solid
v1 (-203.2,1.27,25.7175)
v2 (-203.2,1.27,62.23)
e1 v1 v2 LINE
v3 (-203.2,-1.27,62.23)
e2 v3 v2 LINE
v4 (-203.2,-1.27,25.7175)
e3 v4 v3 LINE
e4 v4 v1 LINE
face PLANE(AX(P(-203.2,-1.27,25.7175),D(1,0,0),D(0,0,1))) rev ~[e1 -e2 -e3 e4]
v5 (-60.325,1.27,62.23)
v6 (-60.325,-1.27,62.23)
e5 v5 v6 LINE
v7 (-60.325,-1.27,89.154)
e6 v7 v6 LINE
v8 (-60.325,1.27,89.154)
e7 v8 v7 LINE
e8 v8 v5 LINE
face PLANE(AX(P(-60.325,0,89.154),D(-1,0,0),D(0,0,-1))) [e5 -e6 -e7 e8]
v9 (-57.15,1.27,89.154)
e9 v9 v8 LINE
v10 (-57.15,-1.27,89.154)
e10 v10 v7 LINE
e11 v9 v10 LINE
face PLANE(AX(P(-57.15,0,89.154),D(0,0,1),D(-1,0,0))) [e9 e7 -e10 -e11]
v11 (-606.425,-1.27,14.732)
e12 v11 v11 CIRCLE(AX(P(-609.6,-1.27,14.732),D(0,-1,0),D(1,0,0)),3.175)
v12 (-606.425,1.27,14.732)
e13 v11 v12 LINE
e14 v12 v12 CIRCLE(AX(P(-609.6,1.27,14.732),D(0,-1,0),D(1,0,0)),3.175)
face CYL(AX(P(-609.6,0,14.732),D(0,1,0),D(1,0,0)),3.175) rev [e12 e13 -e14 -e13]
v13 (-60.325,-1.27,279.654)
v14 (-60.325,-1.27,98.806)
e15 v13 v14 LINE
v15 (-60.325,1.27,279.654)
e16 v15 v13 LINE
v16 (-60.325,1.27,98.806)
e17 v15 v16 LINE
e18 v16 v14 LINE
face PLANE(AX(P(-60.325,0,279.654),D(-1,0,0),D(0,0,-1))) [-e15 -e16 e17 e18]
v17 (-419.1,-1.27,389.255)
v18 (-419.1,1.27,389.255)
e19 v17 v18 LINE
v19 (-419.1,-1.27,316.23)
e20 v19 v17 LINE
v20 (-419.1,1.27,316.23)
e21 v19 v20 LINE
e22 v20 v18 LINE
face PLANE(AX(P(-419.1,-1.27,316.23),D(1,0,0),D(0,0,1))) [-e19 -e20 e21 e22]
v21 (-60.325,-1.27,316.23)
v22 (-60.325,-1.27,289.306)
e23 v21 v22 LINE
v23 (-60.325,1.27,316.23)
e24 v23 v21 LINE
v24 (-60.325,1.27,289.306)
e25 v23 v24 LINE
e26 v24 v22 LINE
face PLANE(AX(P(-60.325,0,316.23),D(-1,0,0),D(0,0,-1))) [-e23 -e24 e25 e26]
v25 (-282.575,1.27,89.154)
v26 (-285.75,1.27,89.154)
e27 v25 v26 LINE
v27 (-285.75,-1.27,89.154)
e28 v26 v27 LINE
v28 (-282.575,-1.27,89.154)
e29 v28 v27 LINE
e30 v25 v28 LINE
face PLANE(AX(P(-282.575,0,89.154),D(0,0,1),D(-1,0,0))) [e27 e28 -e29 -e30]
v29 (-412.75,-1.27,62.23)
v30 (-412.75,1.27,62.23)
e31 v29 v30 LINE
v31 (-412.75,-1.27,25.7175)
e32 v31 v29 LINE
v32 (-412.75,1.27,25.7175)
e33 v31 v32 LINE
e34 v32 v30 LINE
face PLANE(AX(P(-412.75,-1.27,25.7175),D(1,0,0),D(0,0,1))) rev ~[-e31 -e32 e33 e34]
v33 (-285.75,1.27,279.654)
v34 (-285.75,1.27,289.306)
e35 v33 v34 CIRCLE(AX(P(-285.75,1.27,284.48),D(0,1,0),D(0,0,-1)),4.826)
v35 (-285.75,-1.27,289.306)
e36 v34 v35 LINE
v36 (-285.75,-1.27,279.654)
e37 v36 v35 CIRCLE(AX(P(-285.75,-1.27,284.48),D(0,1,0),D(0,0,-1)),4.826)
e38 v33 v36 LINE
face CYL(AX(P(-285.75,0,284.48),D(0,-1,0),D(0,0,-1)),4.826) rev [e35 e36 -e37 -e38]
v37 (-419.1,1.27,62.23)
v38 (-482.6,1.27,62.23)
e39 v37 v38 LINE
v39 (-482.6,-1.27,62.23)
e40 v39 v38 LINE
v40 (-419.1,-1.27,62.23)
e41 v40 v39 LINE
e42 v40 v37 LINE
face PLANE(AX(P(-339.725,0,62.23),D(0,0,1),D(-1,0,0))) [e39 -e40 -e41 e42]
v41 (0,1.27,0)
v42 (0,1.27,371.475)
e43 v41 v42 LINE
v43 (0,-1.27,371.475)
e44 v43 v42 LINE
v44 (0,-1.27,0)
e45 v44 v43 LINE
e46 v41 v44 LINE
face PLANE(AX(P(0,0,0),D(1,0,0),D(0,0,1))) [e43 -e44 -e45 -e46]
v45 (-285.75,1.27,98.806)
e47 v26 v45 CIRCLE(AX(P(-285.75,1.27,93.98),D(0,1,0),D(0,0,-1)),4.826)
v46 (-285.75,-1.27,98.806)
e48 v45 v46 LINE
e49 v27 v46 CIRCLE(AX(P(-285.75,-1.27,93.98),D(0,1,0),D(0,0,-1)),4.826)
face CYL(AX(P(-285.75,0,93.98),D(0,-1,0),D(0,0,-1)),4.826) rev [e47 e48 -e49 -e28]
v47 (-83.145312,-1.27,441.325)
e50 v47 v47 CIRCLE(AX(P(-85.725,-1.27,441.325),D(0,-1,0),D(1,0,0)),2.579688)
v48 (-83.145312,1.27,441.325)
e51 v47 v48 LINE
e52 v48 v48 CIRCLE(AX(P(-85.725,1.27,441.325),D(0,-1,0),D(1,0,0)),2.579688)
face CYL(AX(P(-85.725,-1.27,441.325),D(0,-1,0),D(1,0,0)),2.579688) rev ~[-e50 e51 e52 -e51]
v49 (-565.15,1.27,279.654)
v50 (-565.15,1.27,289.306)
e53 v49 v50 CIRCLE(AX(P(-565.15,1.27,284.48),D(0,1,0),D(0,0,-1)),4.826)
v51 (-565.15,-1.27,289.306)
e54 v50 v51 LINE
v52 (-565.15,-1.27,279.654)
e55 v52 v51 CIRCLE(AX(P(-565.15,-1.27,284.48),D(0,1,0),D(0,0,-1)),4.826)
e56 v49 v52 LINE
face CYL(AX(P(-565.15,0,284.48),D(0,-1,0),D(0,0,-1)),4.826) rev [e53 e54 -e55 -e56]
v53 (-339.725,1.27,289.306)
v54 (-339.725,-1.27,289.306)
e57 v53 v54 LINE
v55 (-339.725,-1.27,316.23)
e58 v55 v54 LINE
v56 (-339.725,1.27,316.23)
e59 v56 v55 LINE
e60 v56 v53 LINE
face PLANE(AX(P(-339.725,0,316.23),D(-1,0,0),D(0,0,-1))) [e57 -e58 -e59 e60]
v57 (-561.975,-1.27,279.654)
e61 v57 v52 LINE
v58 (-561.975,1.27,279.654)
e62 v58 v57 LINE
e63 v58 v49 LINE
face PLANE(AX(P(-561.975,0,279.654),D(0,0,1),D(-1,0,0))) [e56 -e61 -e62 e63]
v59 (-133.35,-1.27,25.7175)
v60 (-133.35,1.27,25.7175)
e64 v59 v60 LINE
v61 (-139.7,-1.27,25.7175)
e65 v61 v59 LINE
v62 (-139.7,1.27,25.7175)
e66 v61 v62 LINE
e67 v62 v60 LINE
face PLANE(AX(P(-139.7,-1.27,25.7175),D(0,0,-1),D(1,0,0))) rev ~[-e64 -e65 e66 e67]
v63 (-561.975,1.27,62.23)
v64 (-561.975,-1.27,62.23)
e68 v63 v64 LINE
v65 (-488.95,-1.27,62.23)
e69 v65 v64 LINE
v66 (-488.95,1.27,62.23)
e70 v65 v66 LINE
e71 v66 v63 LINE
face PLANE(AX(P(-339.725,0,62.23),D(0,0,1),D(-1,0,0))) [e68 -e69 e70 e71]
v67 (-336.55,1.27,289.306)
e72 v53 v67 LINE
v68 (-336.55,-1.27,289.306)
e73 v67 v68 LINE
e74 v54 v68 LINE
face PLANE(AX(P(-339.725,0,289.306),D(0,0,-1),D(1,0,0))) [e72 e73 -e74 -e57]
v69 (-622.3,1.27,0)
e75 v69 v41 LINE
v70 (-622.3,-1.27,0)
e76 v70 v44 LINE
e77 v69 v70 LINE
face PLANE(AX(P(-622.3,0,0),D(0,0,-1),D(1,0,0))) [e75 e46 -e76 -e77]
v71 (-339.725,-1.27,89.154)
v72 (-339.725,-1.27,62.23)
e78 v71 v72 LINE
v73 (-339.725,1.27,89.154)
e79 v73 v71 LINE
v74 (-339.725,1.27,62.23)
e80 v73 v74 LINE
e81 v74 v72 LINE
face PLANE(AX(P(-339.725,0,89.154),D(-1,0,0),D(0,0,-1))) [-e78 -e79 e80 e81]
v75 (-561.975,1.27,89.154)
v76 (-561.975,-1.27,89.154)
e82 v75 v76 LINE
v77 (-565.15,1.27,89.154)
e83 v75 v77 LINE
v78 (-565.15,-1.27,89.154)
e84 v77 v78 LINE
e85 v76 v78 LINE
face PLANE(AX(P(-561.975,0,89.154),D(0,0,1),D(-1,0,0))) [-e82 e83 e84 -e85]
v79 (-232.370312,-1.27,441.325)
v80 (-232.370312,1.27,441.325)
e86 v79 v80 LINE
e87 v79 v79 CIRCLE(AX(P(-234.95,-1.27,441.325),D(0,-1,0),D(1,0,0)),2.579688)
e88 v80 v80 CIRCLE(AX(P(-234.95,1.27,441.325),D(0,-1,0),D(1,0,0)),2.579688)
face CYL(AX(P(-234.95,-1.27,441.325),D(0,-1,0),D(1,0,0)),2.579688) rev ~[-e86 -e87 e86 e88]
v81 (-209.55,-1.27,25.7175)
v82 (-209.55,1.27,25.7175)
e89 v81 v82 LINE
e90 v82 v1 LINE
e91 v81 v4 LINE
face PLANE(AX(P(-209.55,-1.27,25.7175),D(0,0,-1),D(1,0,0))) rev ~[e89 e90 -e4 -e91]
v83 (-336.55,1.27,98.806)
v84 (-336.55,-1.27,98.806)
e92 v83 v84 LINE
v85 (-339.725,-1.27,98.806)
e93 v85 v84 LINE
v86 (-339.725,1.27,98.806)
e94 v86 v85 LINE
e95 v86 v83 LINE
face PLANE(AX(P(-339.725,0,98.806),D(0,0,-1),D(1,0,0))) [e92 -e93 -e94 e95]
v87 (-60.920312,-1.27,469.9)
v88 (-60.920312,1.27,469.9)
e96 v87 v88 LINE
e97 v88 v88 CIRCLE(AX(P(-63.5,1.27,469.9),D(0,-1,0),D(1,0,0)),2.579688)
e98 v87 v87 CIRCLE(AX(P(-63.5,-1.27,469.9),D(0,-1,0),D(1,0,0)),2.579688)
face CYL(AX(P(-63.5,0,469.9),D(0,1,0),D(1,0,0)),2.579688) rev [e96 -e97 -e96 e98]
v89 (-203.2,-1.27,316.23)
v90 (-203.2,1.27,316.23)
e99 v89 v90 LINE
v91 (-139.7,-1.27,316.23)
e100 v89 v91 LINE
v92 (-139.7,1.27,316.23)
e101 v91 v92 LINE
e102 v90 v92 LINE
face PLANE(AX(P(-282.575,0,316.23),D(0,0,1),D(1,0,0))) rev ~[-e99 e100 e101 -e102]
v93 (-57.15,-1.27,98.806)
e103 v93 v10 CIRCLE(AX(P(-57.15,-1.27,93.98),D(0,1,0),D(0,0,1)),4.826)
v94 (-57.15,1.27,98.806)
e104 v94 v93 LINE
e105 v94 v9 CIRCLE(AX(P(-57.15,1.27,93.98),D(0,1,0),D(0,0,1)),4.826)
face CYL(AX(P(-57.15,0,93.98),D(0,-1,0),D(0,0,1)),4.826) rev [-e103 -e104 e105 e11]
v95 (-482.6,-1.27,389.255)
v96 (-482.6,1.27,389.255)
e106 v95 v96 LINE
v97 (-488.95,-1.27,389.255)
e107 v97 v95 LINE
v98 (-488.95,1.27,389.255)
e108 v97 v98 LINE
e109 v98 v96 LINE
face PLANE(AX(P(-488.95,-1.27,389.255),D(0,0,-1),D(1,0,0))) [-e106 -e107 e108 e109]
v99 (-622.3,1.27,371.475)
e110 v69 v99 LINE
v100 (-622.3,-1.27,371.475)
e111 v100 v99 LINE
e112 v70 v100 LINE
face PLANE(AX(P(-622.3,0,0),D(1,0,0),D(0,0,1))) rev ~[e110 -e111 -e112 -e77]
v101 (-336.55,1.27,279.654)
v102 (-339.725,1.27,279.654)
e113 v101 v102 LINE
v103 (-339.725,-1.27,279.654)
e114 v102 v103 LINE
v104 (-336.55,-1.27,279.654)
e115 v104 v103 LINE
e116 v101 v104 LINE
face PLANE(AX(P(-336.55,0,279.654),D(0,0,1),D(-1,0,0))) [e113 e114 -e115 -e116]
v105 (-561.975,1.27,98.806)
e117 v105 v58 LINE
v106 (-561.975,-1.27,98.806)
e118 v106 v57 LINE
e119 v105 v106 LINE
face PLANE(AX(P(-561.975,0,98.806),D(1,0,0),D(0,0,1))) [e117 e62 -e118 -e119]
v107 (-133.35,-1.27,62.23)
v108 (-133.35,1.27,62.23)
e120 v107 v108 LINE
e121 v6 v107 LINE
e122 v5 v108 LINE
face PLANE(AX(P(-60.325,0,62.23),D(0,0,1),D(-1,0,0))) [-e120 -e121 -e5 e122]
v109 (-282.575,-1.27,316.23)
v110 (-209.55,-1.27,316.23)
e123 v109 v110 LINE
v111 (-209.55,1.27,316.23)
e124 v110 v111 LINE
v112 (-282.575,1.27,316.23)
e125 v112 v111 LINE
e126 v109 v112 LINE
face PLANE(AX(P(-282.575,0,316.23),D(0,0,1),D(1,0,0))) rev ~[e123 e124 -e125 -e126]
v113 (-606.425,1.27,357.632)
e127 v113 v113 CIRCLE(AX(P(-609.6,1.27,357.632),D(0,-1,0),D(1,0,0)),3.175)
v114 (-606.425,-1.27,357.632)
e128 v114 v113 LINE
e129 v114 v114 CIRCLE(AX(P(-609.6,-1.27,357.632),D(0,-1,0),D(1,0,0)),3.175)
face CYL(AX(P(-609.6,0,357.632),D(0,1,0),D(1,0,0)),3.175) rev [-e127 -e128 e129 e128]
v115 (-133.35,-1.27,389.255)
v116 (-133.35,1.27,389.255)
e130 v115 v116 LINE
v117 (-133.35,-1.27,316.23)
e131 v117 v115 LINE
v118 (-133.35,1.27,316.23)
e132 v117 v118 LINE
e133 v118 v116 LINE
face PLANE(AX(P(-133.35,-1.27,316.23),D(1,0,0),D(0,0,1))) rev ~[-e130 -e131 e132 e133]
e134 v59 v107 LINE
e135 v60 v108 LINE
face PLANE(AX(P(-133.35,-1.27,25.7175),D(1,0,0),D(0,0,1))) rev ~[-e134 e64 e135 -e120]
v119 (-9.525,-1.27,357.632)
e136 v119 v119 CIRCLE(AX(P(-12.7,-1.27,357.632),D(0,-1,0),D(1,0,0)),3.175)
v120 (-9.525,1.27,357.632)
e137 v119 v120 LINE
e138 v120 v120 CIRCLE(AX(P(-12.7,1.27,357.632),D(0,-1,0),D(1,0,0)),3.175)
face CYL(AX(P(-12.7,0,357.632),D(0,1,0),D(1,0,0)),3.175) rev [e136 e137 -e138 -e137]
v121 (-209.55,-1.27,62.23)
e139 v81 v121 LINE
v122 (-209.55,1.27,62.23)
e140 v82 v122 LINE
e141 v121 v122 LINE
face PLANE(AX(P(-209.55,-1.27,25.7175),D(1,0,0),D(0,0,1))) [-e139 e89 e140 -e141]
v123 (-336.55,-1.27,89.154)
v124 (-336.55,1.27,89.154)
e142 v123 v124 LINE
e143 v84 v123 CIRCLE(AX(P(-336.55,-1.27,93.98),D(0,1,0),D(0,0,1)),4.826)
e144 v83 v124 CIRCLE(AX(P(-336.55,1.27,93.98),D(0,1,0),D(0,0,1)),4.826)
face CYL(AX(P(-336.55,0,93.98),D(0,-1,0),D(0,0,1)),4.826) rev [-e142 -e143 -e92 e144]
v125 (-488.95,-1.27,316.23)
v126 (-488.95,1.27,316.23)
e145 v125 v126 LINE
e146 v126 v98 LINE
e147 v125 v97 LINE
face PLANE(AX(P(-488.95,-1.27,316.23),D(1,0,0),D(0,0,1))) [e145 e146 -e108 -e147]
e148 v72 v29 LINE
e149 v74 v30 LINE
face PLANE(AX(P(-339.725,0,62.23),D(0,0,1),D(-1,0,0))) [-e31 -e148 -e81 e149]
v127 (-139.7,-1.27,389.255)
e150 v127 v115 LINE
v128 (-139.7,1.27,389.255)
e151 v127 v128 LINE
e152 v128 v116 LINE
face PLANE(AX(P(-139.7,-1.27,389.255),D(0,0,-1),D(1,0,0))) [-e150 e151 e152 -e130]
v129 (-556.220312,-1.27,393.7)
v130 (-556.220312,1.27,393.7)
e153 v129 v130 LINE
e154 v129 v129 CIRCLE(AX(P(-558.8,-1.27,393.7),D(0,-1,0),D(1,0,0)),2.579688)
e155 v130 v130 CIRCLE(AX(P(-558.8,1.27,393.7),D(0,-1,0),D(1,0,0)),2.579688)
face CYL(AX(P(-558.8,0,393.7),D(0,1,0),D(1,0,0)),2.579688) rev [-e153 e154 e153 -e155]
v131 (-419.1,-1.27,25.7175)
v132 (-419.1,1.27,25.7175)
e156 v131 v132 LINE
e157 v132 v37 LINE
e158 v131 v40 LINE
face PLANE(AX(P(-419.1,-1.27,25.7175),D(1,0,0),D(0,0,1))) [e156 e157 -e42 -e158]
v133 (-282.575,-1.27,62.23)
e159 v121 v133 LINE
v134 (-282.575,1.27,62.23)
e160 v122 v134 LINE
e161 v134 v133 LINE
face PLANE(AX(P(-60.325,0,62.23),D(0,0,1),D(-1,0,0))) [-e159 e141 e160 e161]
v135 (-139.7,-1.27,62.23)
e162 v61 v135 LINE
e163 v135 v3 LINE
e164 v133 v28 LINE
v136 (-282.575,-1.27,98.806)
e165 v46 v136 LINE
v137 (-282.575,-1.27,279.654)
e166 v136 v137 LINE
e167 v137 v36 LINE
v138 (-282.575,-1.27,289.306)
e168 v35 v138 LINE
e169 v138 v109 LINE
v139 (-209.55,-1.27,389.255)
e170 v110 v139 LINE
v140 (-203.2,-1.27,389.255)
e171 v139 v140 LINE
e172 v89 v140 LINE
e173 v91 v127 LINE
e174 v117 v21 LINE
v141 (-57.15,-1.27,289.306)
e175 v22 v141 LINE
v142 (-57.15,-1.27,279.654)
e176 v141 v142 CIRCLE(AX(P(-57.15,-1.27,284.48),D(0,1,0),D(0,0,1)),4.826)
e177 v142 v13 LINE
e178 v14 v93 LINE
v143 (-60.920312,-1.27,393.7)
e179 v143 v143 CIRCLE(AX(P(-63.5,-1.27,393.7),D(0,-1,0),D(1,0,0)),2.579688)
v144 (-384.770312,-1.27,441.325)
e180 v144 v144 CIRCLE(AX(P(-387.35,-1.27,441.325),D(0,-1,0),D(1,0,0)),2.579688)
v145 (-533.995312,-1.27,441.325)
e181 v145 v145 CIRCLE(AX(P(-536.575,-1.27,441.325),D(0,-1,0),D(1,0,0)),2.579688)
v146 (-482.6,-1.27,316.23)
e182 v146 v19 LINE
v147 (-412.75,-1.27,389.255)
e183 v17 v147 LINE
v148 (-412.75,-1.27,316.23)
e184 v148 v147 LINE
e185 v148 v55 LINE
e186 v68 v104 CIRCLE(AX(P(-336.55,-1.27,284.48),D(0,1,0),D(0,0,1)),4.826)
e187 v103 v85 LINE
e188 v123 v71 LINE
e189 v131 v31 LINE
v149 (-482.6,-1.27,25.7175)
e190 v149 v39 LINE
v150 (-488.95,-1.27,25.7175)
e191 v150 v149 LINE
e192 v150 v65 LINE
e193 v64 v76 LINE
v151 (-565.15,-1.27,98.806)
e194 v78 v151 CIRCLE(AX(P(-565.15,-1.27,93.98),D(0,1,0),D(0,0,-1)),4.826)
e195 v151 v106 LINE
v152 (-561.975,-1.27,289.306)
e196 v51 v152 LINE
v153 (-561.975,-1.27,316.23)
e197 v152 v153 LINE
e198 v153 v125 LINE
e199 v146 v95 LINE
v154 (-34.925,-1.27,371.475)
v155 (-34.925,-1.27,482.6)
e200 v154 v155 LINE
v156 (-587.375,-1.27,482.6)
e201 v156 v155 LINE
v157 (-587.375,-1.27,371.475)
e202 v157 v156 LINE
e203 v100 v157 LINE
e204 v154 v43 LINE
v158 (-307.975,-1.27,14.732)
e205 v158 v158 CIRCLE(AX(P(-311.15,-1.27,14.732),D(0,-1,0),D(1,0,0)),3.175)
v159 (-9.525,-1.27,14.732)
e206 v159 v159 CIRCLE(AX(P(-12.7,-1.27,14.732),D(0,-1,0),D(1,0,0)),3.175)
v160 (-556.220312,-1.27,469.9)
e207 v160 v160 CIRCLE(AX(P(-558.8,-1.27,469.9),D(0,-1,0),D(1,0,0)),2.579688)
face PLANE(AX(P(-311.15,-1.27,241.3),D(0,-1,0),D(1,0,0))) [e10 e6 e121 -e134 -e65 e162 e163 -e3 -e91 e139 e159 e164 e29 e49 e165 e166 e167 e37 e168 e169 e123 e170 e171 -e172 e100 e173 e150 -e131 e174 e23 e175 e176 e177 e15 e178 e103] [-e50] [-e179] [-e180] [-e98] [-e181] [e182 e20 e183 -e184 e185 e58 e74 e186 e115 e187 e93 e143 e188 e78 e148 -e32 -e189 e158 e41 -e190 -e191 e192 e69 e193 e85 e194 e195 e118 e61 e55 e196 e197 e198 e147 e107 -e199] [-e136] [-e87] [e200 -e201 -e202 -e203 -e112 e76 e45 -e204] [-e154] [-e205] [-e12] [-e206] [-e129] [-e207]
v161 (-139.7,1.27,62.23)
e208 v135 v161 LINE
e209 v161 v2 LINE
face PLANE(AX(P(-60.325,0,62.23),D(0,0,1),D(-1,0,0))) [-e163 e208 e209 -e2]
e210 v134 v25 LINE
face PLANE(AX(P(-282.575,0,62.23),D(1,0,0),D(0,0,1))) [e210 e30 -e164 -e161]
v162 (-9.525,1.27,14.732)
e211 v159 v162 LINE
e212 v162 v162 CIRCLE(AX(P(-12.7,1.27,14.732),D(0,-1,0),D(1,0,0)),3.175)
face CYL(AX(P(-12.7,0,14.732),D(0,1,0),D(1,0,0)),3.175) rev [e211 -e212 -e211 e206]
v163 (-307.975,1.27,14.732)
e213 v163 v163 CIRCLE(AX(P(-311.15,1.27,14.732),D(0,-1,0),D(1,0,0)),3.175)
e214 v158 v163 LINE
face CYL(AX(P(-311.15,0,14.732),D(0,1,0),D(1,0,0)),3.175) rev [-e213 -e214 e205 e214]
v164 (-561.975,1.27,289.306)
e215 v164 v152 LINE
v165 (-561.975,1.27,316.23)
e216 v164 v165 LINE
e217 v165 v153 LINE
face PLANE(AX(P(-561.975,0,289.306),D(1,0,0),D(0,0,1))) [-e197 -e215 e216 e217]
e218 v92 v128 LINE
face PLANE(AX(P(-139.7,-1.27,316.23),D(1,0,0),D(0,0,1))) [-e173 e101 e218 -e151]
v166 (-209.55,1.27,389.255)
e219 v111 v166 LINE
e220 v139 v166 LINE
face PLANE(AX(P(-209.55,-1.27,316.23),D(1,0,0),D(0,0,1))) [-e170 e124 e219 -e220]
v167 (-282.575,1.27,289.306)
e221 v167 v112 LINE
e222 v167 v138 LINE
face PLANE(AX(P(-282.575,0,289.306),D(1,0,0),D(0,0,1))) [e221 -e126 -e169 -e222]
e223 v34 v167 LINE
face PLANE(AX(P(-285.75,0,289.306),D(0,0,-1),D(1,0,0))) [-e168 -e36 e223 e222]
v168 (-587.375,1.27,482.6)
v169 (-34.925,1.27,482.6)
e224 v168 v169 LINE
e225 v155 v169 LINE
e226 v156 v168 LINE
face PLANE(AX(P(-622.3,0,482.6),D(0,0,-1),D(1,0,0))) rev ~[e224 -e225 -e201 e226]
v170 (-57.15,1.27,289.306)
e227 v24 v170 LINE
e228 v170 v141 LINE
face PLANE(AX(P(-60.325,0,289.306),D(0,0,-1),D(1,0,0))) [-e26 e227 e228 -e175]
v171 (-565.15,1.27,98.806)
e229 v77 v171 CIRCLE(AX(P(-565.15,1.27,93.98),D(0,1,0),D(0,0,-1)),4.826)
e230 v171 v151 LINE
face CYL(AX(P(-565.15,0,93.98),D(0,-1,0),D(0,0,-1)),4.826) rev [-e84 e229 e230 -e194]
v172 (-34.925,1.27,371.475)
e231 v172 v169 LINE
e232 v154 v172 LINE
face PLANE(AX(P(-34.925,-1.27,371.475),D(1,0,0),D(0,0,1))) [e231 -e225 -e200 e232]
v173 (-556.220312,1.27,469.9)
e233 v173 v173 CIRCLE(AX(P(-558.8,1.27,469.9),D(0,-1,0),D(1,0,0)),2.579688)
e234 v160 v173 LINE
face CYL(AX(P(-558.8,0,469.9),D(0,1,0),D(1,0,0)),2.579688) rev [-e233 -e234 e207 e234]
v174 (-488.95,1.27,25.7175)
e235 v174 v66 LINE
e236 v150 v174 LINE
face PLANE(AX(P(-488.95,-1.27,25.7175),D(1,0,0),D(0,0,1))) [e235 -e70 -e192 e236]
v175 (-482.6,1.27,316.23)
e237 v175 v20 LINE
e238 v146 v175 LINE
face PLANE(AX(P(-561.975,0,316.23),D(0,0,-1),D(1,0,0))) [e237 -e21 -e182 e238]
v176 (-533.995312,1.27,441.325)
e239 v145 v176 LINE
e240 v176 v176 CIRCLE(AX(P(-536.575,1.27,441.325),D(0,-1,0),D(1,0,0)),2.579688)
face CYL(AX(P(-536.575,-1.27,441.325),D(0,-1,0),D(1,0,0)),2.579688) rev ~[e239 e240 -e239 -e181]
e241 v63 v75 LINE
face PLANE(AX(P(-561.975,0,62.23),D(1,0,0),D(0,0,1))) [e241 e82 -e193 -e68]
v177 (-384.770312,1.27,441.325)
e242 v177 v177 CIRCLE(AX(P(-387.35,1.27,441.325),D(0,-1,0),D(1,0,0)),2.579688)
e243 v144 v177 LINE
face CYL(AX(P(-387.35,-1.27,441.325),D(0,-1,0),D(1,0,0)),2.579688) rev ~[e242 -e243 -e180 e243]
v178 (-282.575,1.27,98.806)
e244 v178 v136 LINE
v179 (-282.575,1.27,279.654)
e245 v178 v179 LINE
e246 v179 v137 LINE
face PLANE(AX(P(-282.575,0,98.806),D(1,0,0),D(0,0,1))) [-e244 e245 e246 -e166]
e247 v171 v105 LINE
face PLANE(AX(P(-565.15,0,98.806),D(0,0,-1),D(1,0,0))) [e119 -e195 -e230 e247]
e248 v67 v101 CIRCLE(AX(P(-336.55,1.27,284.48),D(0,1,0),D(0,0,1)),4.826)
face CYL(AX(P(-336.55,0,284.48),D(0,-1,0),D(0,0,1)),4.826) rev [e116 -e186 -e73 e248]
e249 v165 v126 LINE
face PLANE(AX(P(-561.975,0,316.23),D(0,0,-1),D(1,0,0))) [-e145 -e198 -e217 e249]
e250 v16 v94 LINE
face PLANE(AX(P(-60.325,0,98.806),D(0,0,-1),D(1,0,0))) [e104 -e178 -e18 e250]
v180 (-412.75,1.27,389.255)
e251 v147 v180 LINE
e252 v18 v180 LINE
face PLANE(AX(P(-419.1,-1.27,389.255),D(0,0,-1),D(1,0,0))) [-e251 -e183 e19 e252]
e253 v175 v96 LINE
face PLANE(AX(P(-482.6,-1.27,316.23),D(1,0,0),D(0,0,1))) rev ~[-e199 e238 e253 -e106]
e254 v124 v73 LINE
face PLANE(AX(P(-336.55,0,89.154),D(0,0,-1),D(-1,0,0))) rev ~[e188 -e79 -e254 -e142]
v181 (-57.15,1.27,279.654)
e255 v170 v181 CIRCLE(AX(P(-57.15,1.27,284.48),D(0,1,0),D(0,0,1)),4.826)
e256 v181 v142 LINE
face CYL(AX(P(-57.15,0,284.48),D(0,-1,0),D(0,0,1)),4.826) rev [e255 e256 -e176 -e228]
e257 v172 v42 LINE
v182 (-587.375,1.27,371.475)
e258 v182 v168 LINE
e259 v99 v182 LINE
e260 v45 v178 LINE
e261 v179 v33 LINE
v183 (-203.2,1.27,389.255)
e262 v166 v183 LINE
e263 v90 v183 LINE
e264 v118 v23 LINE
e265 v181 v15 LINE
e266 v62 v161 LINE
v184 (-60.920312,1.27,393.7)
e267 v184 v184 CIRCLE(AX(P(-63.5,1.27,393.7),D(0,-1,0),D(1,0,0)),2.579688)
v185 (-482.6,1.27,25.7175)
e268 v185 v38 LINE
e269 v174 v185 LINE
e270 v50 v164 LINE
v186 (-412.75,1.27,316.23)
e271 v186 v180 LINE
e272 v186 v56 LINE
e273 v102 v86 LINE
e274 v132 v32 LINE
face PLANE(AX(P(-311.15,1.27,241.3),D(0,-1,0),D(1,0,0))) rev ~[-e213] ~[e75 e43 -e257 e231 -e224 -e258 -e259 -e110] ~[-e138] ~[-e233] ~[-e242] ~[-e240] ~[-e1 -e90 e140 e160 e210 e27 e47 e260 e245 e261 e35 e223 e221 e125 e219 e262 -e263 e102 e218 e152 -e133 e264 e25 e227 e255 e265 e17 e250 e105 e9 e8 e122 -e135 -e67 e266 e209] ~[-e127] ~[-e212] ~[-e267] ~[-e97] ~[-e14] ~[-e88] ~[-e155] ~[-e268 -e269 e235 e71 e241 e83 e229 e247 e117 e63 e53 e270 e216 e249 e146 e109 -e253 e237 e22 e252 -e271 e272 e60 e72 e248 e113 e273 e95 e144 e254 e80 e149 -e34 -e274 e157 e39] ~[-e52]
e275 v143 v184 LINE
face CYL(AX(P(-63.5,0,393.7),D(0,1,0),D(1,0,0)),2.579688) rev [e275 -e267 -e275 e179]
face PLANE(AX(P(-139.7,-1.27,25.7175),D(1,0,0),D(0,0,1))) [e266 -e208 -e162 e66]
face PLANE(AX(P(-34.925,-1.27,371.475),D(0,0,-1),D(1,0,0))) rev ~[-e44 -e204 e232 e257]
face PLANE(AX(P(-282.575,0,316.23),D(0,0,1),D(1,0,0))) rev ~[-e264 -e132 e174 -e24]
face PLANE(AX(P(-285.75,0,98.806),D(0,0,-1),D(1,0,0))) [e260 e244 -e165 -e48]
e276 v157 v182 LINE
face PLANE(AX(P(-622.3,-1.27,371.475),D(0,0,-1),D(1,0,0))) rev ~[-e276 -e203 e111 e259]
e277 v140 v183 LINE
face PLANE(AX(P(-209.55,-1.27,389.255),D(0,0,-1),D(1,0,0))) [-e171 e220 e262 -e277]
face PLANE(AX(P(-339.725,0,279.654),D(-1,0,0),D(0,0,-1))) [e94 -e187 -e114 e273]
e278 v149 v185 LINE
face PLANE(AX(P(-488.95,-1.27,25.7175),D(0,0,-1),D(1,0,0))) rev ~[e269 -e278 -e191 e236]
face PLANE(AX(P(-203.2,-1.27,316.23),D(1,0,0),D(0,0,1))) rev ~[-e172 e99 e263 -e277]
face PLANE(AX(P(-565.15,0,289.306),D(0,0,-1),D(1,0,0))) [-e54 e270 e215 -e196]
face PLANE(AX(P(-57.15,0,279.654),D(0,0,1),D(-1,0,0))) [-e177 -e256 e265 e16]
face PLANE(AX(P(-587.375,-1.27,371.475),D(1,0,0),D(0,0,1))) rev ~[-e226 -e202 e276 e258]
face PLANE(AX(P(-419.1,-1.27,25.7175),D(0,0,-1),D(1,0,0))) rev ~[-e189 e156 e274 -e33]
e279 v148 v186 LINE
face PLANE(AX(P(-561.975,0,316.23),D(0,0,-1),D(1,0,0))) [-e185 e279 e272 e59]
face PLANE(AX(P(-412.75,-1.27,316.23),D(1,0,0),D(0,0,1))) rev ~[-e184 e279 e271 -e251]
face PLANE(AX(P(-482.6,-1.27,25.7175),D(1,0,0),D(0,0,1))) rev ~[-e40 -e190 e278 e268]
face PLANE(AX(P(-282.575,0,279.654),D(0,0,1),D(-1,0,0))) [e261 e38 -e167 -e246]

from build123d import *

# Parameters (mm, degrees)
F0_W     = 622.3
F0_H     = 482.6
F0_R     = 3.175
F0_R_2   = 2.579688
F1_DEPTH = 1.27
F2_W     = 34.925
F2_H     = 111.125
F2_W_2   = 6.35
F2_H_2   = 73.025
F2_H_3   = 36.5125
F2_R     = 2.579688
F3_DEPTH = 2.541


with BuildPart() as f1:
    # F0 (on Front) → F1 (new body, symmetric)
    with BuildSketch(Plane.XZ):
        with Locations((-311.15, 241.3)):
            Rectangle(F0_W, F0_H)
        with Locations((-609.6, 14.732)):
            Circle(F0_R, mode=Mode.SUBTRACT)
        with BuildLine():
            Line((-561.975, 289.306), (-561.975, 316.23))
            Line((-561.975, 316.23), (-339.725, 316.23))
            Line((-339.725, 316.23), (-339.725, 289.306))
            Line((-339.725, 289.306), (-336.55, 289.306))
            ThreePointArc((-336.55, 289.306), (-331.724, 284.48), (-336.55, 279.654))
            Line((-336.55, 279.654), (-339.725, 279.654))
            Line((-339.725, 279.654), (-339.725, 98.806))
            Line((-339.725, 98.806), (-336.55, 98.806))
            ThreePointArc((-336.55, 98.806), (-331.724, 93.98), (-336.55, 89.154))
            Line((-336.55, 89.154), (-339.725, 89.154))
            Line((-339.725, 89.154), (-339.725, 62.23))
            Line((-339.725, 62.23), (-561.975, 62.23))
            Line((-561.975, 62.23), (-561.975, 89.154))
            Line((-561.975, 89.154), (-565.15, 89.154))
            ThreePointArc((-565.15, 89.154), (-569.976, 93.98), (-565.15, 98.806))
            Line((-565.15, 98.806), (-561.975, 98.806))
            Line((-561.975, 98.806), (-561.975, 279.654))
            Line((-561.975, 279.654), (-565.15, 279.654))
            ThreePointArc((-565.15, 279.654), (-569.976, 284.48), (-565.15, 289.306))
            Line((-565.15, 289.306), (-561.975, 289.306))
        make_face(mode=Mode.SUBTRACT)
        with Locations((-311.15, 14.732)):
            Circle(F0_R, mode=Mode.SUBTRACT)
        with Locations((-12.7, 14.732)):
            Circle(F0_R, mode=Mode.SUBTRACT)
        with BuildLine():
            Line((-282.575, 62.23), (-282.575, 89.154))
            Line((-282.575, 89.154), (-285.75, 89.154))
            ThreePointArc((-285.75, 89.154), (-290.576, 93.98), (-285.75, 98.806))
            Line((-285.75, 98.806), (-282.575, 98.806))
            Line((-282.575, 98.806), (-282.575, 279.654))
            Line((-282.575, 279.654), (-285.75, 279.654))
            ThreePointArc((-285.75, 279.654), (-290.576, 284.48), (-285.75, 289.306))
            Line((-285.75, 289.306), (-282.575, 289.306))
            Line((-282.575, 289.306), (-282.575, 316.23))
            Line((-282.575, 316.23), (-60.325, 316.23))
            Line((-60.325, 316.23), (-60.325, 289.306))
            Line((-60.325, 289.306), (-57.15, 289.306))
            ThreePointArc((-57.15, 289.306), (-52.324, 284.48), (-57.15, 279.654))
            Line((-57.15, 279.654), (-60.325, 279.654))
            Line((-60.325, 279.654), (-60.325, 98.806))
            Line((-60.325, 98.806), (-57.15, 98.806))
            ThreePointArc((-57.15, 98.806), (-52.324, 93.98), (-57.15, 89.154))
            Line((-57.15, 89.154), (-60.325, 89.154))
            Line((-60.325, 89.154), (-60.325, 62.23))
            Line((-60.325, 62.23), (-282.575, 62.23))
        make_face(mode=Mode.SUBTRACT)
        with Locations((-609.6, 357.632)):
            Circle(F0_R, mode=Mode.SUBTRACT)
        with Locations((-558.8, 393.7)):
            Circle(F0_R_2, mode=Mode.SUBTRACT)
        with Locations((-558.8, 469.9)):
            Circle(F0_R_2, mode=Mode.SUBTRACT)
        with Locations((-12.7, 357.632)):
            Circle(F0_R, mode=Mode.SUBTRACT)
        with Locations((-63.5, 393.7)):
            Circle(F0_R_2, mode=Mode.SUBTRACT)
        with Locations((-63.5, 469.9)):
            Circle(F0_R_2, mode=Mode.SUBTRACT)
    extrude(amount=F1_DEPTH, both=True)

    # F2 (on face) → F3 (cut, through all)
    with BuildSketch(Plane.XZ.offset(1.27)):
        with Locations((-604.8375, 427.0375)):
            Rectangle(F2_W, F2_H)
        with Locations((-17.4625, 427.0375)):
            Rectangle(F2_W, F2_H)
        with Locations((-485.775, 352.7425)):
            Rectangle(F2_W_2, F2_H_2)
        with Locations((-415.925, 352.7425)):
            Rectangle(F2_W_2, F2_H_2)
        with Locations((-415.925, 43.97375)):
            Rectangle(F2_W_2, F2_H_3)
        with Locations((-485.775, 43.97375)):
            Rectangle(F2_W_2, F2_H_3)
        with Locations((-206.375, 352.7425)):
            Rectangle(F2_W_2, F2_H_2)
        with Locations((-136.525, 43.97375)):
            Rectangle(F2_W_2, F2_H_3)
        with Locations((-136.525, 352.7425)):
            Rectangle(F2_W_2, F2_H_2)
        with Locations((-206.375, 43.97375)):
            Rectangle(F2_W_2, F2_H_3)
        with Locations((-85.725, 441.325)):
            Circle(F2_R)
        with Locations((-536.575, 441.325)):
            Circle(F2_R)
        with Locations((-234.95, 441.325)):
            Circle(F2_R)
        with Locations((-387.35, 441.325)):
            Circle(F2_R)
    extrude(amount=-F3_DEPTH, mode=Mode.SUBTRACT)


solid = f1.part
